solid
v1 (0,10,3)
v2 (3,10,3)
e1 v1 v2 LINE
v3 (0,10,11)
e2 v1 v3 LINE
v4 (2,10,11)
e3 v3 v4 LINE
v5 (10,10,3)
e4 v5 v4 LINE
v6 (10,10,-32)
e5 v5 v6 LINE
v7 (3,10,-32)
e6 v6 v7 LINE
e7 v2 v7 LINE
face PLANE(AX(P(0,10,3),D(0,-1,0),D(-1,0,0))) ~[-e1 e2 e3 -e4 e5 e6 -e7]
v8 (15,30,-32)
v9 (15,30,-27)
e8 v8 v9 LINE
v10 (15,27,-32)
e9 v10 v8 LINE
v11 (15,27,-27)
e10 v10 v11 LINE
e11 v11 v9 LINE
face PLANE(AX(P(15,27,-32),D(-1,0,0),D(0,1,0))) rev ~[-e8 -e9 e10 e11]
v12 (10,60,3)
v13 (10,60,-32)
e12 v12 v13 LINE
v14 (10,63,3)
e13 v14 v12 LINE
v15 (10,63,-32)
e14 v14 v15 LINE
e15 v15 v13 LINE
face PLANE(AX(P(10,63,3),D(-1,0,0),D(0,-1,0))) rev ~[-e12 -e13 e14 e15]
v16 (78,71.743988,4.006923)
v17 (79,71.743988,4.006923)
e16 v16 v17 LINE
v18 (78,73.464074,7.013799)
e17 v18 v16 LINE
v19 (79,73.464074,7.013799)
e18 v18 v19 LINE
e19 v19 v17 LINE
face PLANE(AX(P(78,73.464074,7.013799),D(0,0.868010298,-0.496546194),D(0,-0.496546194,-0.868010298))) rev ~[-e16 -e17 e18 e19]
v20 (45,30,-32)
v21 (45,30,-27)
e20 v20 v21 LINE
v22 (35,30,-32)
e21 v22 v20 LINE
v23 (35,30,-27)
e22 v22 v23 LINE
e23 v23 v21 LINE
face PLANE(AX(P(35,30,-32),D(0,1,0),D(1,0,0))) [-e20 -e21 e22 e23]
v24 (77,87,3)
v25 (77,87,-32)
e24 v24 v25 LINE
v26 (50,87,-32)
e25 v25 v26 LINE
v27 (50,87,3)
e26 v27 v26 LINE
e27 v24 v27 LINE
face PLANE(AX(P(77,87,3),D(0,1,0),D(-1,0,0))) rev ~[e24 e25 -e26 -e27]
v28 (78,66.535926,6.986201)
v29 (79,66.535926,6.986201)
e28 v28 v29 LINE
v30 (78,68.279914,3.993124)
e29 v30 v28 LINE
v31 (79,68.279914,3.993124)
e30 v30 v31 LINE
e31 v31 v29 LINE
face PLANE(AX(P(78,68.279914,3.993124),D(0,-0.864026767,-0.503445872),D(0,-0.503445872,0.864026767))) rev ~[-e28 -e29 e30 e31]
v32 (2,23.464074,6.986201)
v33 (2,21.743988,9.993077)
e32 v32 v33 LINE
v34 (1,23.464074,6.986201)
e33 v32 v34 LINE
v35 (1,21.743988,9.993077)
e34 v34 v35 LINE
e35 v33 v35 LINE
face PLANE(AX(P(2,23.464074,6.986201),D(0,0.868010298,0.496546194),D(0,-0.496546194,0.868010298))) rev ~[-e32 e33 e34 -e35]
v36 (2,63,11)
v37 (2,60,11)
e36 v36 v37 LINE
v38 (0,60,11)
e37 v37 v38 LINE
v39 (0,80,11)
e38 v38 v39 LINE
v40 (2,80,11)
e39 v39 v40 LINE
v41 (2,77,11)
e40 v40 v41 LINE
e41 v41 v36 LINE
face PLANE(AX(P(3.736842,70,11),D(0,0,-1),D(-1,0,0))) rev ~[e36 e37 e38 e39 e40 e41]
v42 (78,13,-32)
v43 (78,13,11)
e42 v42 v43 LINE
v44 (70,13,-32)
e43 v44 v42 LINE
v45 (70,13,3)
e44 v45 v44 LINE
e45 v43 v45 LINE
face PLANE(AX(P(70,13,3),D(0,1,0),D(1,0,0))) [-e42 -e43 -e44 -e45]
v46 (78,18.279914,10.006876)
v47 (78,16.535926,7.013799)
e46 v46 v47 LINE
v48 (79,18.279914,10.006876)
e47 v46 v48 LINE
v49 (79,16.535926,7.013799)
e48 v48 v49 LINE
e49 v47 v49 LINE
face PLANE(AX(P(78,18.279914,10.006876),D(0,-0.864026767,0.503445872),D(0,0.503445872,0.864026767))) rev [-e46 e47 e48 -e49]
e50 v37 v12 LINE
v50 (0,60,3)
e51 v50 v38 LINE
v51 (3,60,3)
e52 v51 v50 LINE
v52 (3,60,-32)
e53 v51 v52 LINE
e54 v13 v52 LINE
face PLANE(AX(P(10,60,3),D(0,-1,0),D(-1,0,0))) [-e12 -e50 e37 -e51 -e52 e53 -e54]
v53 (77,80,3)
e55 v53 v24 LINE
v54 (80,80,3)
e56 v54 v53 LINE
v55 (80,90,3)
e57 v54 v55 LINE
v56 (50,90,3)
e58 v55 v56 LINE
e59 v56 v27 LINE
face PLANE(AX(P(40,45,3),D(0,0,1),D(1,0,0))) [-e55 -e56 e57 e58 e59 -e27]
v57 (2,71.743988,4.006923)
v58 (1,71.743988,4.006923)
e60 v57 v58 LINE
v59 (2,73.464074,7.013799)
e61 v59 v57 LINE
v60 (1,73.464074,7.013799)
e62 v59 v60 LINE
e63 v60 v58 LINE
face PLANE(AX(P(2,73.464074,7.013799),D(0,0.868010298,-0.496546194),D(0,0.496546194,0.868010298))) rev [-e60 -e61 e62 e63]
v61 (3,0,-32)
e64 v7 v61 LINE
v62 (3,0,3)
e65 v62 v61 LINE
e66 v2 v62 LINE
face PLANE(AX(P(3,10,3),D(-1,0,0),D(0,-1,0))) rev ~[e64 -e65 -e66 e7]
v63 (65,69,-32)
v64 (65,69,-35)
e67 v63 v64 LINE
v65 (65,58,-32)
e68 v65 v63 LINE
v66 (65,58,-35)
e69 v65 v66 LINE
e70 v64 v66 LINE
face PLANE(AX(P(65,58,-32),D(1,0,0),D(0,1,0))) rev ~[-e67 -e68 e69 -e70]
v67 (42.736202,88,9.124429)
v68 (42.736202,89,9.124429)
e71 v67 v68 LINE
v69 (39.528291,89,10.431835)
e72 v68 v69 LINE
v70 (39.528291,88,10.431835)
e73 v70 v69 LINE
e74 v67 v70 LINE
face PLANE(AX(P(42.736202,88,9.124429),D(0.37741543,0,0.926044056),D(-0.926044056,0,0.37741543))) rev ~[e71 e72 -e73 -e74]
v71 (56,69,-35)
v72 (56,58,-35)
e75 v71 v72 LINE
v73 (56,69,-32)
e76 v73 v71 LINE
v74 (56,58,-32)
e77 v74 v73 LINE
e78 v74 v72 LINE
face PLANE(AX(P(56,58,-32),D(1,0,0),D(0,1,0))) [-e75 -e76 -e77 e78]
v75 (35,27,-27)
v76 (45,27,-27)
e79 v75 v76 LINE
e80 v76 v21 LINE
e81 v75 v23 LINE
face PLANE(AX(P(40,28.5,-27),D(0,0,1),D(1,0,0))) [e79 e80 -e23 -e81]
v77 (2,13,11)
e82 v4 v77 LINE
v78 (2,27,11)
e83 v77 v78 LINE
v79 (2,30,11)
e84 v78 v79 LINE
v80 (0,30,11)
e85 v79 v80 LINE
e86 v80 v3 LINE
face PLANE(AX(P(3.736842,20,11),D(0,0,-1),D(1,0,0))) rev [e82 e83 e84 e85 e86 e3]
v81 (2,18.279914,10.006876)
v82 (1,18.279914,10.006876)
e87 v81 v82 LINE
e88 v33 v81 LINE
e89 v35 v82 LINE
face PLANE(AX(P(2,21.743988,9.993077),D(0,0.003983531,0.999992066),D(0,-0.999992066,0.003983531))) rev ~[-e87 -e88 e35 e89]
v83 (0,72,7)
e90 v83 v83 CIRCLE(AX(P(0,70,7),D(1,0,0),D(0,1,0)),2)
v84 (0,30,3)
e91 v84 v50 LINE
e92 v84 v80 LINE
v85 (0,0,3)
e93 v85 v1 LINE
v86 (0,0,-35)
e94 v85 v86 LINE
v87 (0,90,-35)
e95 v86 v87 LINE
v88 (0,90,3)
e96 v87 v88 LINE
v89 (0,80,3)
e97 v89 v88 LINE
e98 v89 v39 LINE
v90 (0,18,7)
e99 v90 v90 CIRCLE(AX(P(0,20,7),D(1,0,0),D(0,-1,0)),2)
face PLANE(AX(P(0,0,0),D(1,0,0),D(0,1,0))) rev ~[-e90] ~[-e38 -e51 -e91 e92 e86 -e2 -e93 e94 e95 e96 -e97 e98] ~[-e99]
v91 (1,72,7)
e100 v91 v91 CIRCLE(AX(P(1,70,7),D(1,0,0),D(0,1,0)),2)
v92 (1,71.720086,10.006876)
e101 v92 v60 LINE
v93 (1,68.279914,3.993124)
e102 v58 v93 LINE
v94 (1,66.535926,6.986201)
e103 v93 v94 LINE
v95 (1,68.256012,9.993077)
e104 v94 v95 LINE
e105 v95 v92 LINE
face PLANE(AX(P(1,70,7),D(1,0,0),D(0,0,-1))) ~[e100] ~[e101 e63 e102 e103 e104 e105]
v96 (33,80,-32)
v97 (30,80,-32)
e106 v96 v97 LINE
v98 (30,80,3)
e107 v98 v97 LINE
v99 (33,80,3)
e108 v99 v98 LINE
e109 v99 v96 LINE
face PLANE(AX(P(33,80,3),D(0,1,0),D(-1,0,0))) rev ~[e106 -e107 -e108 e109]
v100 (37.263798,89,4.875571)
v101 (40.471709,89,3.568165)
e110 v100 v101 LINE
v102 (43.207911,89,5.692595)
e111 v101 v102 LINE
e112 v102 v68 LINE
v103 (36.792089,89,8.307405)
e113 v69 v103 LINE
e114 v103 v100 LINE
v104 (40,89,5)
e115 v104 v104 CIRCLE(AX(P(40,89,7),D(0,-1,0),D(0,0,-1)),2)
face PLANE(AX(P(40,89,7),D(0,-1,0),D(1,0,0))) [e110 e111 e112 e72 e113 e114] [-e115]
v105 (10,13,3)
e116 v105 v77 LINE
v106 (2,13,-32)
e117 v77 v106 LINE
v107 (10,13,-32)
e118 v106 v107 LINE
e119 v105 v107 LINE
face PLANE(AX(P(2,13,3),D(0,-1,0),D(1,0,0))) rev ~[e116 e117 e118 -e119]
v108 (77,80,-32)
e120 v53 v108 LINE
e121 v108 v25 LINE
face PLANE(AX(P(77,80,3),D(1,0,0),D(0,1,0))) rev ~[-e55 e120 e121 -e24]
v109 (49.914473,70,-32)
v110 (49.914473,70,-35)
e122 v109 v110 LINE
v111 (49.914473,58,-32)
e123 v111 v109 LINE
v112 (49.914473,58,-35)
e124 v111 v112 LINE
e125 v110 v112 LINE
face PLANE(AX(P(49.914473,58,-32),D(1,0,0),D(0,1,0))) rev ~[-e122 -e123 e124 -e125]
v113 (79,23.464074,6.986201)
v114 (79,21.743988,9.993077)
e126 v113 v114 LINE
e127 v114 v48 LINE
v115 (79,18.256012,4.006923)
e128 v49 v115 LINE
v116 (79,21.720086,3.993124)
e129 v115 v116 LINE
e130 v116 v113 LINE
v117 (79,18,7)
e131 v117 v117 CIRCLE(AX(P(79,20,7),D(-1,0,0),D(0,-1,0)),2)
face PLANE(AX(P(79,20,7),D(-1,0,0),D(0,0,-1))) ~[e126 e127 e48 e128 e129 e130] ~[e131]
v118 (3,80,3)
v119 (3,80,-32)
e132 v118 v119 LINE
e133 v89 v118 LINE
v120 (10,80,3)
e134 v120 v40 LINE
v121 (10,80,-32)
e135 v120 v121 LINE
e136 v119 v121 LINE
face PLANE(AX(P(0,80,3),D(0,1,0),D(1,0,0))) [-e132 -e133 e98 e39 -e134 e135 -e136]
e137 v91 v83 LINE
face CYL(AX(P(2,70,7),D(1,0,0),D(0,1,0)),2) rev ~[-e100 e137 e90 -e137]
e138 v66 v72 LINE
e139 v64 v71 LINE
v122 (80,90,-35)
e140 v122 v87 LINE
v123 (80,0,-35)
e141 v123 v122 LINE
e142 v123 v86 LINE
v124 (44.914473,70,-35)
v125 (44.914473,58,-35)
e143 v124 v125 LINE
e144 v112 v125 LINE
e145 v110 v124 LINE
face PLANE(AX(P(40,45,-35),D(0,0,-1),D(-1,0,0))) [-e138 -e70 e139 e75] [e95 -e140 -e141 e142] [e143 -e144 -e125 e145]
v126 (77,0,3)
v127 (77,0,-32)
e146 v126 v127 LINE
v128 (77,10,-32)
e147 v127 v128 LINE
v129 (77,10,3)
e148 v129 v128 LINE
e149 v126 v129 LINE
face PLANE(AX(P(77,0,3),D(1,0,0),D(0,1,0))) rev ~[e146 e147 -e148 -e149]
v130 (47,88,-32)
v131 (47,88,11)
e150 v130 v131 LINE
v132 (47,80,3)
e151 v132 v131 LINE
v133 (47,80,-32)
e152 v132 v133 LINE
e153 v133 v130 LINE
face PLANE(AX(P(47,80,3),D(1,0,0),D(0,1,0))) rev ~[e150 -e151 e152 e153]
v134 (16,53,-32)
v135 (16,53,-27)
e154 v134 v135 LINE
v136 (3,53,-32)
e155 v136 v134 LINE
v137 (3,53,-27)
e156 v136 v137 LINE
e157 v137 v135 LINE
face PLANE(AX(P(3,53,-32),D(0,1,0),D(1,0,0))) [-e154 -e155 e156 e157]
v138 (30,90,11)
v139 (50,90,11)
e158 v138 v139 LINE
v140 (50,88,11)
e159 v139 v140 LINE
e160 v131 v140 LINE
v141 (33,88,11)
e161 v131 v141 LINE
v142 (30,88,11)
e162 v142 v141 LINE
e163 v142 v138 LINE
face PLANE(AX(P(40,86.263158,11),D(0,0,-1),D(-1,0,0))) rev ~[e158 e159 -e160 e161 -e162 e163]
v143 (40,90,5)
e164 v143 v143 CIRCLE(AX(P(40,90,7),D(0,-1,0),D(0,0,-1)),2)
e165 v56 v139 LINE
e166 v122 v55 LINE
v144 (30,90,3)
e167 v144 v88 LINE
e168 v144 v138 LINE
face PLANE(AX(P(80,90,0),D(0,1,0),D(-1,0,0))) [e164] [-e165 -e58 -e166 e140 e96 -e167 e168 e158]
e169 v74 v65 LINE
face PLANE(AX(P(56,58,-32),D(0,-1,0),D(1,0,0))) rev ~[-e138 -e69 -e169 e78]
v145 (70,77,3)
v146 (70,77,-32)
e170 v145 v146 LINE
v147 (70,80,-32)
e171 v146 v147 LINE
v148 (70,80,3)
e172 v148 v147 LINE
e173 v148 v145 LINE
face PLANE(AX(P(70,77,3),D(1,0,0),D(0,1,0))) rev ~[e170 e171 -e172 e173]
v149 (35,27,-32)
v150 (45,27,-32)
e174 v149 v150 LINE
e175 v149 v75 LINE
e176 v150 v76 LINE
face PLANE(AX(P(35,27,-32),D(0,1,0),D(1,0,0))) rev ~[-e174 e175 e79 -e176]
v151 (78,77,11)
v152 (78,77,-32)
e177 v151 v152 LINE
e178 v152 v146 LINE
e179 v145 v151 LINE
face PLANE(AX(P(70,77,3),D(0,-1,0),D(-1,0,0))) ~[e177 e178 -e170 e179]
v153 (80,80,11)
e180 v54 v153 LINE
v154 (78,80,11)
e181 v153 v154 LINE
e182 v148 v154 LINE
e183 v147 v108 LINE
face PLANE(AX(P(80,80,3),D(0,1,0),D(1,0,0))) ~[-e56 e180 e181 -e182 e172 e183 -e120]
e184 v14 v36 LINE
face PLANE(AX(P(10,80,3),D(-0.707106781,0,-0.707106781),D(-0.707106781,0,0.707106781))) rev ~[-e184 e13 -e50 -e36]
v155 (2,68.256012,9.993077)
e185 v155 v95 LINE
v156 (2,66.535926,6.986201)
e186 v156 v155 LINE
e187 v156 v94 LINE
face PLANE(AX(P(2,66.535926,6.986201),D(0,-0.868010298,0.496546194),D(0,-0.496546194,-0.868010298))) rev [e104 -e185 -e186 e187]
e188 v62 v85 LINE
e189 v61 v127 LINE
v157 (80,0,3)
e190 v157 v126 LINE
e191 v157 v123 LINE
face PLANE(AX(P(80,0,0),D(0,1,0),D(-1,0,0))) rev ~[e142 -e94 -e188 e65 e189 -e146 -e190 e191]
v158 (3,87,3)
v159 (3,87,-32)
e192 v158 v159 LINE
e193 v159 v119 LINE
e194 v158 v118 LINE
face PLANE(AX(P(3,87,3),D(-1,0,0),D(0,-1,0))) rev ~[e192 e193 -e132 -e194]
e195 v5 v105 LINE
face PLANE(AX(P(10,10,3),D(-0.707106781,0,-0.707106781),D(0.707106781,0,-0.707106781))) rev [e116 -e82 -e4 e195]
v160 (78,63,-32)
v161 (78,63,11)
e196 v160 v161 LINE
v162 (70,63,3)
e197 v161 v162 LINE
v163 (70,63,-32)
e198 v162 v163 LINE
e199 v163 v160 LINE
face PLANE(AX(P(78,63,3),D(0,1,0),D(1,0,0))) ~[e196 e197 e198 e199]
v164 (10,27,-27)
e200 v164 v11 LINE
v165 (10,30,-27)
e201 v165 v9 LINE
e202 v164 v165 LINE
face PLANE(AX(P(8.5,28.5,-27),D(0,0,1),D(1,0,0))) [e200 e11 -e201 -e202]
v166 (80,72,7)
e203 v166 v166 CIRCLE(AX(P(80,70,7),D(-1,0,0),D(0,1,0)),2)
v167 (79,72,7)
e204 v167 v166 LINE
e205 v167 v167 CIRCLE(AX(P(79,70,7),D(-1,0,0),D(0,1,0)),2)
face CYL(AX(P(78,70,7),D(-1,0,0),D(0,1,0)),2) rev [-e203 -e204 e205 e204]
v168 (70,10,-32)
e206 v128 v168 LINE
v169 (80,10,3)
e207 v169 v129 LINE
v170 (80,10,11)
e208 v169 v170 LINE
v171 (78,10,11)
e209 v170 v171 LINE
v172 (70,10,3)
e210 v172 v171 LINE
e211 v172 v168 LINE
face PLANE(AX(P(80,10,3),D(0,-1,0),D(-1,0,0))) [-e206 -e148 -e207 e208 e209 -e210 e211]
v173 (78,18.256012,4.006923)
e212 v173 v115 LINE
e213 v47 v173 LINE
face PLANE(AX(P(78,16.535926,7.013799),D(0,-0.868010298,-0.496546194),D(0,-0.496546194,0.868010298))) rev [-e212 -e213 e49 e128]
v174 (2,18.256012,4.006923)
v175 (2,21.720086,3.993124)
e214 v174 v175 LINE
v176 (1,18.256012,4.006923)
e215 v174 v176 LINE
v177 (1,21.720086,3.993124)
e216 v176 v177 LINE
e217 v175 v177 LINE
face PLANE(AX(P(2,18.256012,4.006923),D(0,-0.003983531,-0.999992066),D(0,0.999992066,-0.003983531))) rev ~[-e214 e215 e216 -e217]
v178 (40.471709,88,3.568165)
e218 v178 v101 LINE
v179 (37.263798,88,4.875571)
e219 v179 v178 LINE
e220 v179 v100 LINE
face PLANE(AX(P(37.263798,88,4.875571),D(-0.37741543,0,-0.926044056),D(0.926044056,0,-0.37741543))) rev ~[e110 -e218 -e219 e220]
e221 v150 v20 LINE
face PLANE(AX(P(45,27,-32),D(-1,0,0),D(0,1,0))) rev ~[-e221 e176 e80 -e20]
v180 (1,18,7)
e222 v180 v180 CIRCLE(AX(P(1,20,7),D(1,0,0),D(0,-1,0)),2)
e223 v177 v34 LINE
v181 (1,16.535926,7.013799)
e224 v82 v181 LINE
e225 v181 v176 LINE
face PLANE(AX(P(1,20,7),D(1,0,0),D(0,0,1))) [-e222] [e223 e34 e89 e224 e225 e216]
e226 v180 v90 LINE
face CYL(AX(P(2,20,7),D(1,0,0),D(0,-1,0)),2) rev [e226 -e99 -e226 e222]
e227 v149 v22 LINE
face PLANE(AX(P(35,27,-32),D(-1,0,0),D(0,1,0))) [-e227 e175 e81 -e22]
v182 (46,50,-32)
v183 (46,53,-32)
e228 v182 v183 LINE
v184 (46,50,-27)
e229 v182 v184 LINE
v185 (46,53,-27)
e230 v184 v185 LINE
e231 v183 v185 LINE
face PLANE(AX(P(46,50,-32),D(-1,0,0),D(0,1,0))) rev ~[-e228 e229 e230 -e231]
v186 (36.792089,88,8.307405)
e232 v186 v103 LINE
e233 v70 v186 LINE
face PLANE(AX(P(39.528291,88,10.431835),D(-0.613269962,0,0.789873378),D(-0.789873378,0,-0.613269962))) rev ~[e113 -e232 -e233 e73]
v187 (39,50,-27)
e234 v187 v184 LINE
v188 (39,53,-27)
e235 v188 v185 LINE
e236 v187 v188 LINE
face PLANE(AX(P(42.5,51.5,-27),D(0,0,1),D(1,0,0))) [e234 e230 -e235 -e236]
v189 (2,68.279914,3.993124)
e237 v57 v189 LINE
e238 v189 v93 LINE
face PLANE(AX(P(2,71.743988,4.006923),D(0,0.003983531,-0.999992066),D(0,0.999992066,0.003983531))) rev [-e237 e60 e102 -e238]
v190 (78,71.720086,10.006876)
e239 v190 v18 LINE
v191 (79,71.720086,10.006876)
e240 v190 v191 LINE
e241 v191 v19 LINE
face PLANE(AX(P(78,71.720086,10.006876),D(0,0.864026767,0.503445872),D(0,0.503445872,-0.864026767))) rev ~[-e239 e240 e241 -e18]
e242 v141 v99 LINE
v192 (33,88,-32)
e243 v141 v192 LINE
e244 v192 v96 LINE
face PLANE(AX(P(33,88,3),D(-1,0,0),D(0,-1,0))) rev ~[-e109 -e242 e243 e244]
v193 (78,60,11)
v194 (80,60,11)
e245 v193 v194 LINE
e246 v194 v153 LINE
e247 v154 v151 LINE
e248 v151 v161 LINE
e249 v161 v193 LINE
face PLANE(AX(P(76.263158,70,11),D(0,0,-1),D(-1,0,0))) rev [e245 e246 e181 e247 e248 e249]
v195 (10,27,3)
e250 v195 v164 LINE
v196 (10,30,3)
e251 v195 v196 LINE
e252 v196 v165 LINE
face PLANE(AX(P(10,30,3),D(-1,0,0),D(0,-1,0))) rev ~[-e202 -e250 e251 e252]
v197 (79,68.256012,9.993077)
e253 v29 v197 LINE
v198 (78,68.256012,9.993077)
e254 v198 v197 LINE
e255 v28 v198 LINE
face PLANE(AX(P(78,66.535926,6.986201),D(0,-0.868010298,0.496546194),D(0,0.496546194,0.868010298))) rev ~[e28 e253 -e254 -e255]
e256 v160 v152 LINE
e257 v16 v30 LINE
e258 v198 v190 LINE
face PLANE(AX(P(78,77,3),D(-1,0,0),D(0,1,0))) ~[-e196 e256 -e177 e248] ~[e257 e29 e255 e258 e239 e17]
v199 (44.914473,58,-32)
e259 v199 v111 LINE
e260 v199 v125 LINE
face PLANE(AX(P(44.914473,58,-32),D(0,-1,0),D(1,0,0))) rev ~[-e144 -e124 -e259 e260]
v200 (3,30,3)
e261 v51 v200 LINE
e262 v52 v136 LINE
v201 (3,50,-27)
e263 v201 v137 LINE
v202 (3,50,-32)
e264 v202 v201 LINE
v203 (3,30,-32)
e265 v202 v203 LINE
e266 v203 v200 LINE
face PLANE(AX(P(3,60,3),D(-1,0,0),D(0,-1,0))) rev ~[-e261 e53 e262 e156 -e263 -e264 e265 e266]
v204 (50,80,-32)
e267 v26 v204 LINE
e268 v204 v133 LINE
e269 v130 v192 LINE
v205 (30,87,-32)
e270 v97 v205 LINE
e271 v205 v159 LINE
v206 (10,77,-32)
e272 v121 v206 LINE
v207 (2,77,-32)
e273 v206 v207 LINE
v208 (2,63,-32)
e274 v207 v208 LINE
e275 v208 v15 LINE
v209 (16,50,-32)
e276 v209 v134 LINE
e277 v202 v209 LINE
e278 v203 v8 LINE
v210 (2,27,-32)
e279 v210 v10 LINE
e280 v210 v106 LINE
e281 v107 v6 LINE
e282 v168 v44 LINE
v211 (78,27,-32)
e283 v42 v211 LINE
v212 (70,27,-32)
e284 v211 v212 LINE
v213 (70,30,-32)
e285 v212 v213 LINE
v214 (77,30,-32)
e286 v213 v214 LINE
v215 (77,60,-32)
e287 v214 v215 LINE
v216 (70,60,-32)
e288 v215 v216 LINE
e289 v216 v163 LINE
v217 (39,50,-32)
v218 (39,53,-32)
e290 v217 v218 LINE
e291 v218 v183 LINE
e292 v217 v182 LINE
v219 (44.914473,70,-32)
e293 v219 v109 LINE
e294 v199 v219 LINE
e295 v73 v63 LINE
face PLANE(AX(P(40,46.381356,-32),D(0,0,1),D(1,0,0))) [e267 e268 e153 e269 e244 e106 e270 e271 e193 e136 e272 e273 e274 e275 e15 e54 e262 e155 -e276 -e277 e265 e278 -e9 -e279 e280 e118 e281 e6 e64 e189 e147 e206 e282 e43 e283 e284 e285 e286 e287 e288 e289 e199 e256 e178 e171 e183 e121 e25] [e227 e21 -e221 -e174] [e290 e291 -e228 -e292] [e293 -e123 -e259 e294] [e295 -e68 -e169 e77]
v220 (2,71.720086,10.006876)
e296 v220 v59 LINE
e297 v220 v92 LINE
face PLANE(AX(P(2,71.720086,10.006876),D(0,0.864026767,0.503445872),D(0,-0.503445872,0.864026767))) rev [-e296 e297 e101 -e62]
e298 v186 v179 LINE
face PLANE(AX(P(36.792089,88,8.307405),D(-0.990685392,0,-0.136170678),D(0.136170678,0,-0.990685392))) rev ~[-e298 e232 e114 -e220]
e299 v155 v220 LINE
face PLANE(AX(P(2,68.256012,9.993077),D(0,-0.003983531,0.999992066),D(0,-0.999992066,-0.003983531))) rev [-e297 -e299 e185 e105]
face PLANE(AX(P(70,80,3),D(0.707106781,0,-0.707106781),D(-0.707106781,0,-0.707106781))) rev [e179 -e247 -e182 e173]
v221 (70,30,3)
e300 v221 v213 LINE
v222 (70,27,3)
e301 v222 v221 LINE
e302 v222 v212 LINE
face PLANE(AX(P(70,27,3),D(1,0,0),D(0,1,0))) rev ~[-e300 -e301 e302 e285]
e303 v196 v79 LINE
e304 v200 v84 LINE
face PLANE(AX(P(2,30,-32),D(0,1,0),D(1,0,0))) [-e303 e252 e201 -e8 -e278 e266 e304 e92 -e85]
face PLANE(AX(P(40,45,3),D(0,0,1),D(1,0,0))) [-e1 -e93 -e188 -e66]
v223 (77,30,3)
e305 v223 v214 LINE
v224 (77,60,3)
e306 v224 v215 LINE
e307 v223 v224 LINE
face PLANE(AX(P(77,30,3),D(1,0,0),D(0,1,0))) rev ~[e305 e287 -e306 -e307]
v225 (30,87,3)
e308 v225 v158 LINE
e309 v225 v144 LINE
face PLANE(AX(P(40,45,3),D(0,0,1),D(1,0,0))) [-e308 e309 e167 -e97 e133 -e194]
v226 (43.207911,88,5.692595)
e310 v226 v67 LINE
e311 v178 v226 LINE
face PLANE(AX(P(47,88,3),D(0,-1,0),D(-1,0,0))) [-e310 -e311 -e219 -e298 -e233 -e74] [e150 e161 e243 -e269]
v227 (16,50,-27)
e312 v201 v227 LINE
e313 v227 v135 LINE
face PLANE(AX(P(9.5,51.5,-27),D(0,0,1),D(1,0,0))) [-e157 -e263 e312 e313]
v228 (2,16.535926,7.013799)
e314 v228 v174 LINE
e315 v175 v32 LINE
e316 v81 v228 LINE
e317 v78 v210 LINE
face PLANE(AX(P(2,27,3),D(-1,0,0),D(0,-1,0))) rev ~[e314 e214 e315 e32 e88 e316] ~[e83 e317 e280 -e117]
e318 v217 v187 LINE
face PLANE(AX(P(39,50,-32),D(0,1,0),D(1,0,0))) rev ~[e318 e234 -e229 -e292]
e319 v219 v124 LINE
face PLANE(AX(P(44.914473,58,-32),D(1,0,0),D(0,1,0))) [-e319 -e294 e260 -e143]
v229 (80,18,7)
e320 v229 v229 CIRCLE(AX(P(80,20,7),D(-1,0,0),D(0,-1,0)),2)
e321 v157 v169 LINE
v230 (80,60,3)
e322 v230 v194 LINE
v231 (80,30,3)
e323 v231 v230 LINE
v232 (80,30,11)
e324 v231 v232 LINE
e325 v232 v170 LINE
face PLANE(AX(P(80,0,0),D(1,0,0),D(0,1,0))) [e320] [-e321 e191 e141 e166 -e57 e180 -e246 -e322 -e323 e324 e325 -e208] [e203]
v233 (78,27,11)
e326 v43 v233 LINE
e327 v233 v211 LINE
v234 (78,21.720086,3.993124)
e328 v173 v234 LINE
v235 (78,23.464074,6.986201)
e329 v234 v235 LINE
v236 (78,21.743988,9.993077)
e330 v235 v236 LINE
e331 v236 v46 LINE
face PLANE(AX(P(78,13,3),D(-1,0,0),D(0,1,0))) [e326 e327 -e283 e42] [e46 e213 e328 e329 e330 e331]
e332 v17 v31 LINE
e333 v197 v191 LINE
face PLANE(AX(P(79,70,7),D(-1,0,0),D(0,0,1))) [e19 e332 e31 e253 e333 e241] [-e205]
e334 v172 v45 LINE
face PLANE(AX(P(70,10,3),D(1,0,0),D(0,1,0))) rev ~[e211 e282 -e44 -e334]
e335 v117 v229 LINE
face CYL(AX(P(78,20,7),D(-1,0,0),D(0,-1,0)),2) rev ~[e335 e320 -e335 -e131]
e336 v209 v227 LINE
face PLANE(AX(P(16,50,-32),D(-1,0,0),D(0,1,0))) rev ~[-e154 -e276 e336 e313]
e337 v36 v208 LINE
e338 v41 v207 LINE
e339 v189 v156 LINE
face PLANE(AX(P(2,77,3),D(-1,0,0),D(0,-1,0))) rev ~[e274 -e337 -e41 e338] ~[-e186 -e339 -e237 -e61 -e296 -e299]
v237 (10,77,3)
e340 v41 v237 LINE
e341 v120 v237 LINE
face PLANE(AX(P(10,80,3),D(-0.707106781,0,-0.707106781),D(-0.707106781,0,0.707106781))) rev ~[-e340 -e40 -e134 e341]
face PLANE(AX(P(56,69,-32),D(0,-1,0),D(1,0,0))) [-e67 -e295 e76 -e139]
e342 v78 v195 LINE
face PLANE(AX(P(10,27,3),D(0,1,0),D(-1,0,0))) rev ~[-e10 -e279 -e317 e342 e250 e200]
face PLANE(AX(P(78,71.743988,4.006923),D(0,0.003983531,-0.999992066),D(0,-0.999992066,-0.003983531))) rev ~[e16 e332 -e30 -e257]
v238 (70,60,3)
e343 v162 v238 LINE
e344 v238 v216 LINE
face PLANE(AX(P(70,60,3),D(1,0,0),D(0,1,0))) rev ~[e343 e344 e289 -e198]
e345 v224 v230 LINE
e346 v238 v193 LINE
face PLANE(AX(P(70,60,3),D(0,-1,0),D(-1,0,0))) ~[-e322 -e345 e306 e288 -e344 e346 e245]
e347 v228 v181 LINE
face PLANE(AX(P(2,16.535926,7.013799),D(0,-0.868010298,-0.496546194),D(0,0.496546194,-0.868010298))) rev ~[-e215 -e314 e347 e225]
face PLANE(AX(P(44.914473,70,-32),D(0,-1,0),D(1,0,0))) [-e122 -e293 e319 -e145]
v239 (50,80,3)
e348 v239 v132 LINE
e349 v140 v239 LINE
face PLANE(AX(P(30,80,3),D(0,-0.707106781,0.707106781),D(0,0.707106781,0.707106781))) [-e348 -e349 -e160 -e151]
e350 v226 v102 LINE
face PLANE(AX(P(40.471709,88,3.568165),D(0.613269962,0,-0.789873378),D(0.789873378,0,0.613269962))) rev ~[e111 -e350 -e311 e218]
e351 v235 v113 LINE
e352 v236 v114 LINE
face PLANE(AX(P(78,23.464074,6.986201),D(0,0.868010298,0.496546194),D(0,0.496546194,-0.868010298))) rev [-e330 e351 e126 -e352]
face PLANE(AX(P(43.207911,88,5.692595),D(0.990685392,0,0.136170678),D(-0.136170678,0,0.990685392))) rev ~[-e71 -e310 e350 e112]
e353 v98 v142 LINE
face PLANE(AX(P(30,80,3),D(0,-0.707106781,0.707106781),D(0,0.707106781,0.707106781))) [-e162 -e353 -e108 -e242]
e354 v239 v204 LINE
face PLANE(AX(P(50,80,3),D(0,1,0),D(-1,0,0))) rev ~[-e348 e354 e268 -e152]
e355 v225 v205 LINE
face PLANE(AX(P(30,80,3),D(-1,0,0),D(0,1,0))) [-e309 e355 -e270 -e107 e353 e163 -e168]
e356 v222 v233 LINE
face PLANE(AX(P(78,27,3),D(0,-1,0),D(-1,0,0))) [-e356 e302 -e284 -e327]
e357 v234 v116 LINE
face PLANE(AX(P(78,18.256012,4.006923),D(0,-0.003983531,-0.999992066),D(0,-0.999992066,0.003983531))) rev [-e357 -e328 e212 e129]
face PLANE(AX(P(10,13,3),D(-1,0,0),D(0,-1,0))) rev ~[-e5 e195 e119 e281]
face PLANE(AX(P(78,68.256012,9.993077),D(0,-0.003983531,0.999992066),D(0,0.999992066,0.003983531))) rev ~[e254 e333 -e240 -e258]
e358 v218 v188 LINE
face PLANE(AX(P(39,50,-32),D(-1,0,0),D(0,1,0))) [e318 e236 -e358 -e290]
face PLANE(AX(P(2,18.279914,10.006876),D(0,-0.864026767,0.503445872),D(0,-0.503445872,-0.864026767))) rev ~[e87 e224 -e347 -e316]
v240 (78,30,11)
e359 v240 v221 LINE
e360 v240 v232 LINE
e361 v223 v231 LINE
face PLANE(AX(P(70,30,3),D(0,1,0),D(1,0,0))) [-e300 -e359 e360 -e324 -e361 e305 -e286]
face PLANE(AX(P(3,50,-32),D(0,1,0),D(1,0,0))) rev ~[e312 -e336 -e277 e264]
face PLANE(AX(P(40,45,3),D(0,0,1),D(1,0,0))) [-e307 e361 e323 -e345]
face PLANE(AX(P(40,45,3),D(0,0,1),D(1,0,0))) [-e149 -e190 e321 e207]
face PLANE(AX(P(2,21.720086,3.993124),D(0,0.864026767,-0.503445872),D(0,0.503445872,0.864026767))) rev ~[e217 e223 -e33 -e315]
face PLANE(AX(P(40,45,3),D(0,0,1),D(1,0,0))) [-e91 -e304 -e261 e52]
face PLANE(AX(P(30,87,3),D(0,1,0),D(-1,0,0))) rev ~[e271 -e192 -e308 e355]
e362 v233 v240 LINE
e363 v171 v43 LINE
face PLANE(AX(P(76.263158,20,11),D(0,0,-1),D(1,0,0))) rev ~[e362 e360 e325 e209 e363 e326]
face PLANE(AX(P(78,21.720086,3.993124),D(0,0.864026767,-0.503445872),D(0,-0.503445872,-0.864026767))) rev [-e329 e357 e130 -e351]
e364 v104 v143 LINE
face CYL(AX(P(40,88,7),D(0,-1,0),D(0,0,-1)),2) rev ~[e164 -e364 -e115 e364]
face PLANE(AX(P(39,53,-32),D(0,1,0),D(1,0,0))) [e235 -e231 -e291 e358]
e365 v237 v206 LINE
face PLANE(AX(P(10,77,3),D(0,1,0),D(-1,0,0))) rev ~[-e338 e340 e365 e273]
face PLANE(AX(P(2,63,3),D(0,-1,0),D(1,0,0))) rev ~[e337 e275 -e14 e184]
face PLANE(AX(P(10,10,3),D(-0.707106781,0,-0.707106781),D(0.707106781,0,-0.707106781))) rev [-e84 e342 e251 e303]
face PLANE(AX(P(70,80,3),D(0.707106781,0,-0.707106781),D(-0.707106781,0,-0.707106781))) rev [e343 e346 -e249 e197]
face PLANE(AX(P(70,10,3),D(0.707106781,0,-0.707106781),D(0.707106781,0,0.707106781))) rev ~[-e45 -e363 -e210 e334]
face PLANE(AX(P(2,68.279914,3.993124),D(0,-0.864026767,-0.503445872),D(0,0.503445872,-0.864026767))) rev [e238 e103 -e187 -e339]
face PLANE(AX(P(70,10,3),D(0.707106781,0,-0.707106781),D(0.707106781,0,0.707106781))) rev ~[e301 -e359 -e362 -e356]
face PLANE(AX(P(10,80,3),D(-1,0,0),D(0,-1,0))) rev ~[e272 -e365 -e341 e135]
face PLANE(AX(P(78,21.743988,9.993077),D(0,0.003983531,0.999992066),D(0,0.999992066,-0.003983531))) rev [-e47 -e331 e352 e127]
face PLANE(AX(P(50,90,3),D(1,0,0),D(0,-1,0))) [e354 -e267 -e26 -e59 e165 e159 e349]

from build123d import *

# Parameters (mm, degrees)
SKETCH1_W               = 80
SKETCH1_H               = 90
BOSS_EXTRUDE1_DEPTH     = 3
BOSS_EXTRUDE2_DEPTH     = 8
CUT_EXTRUDE1_DEPTH      = 114.670576668
SKETCH6_R               = 2
CUT_EXTRUDE3_DEPTH      = 25
MIRROR5_COPY_1_DEPTH    = 8
MIRROR5_COPY_2_DEPTH    = 114.670576668
MIRROR5_COPY_3_SKETCH_R = 2
MIRROR5_COPY_3_DEPTH    = 25
BOSS_EXTRUDE3_DEPTH     = 8
CUT_EXTRUDE2_DEPTH      = 25
SKETCH7_R               = 2
CUT_EXTRUDE4_DEPTH      = 25
SKETCH9_W               = 80
SKETCH9_H               = 90
BOSS_EXTRUDE7_DEPTH     = 35
CUT_EXTRUDE5_DEPTH      = 35
SKETCH11_W              = 13
SKETCH11_H              = 3
SKETCH11_W_2            = 10
SKETCH11_W_3            = 7
BOSS_EXTRUDE8_DEPTH     = 5
SKETCH12_W              = 9
SKETCH12_H              = 11
CUT_EXTRUDE6_DEPTH      = 46
SKETCH13_W              = 5
SKETCH13_H              = 12
CUT_EXTRUDE7_DEPTH      = 128.863208156
CUT_EXTRUDE8_DEPTH      = 1
CUT_EXTRUDE9_DEPTH      = 1
MIRROR7_COPY_1_DEPTH    = 1


with BuildPart() as part:
    # Sketch1 → Boss-Extrude1 (new body)
    with BuildSketch(Plane.XY):
        with Locations((40, 45)):
            Rectangle(SKETCH1_W, SKETCH1_H)
    extrude(amount=BOSS_EXTRUDE1_DEPTH)

    # Sketch2 → Boss-Extrude2 (add)
    with BuildSketch(Plane.XY.offset(3)):
        Polygon((0, 80), (10, 80), (10, 77), (2, 77), (2, 63), (10, 63), (10, 60), (0, 60), align=None)
    boss_extrude2 = extrude(amount=BOSS_EXTRUDE2_DEPTH)

    # Sketch3 → Cut-Extrude1 (cut, through all)
    with BuildSketch(Plane(origin=(0, 80, 0), x_dir=(1, 0, 0), z_dir=(0, 1, 0))):
        Polygon((10, -3), (2, -11), (10, -11), align=None)
    cut_extrude1 = extrude(amount=-CUT_EXTRUDE1_DEPTH, mode=Mode.SUBTRACT)

    # Sketch6 → Cut-Extrude3 (cut)
    with BuildSketch(Plane(origin=(2, 0, 0), x_dir=(0, 0, -1), z_dir=(1, 0, 0))):
        with Locations(Location((-7, 70, 0), (0, 0, 90))):
            Circle(SKETCH6_R)
    cut_extrude3 = extrude(amount=-CUT_EXTRUDE3_DEPTH, mode=Mode.SUBTRACT)

    # Mirror4: Boss-Extrude2, Cut-Extrude1, Cut-Extrude3 across plane
    add(boss_extrude2.mirror(Plane(origin=(40, 0, 0), x_dir=(0, 0, 1), z_dir=(1, 0, 0))))
    add(cut_extrude1.mirror(Plane(origin=(40, 0, 0), x_dir=(0, 0, 1), z_dir=(1, 0, 0))), mode=Mode.SUBTRACT)
    add(cut_extrude3.mirror(Plane(origin=(40, 0, 0), x_dir=(0, 0, 1), z_dir=(1, 0, 0))), mode=Mode.SUBTRACT)

    # Mirror5: Boss-Extrude2, Cut-Extrude1, Cut-Extrude3 across plane
    add(boss_extrude2.mirror(Plane(origin=(0, 45, 0), x_dir=(0, 0, 1), z_dir=(0, -1, 0))))
    add(cut_extrude1.mirror(Plane(origin=(0, 45, 0), x_dir=(0, 0, 1), z_dir=(0, -1, 0))), mode=Mode.SUBTRACT)
    add(cut_extrude3.mirror(Plane(origin=(0, 45, 0), x_dir=(0, 0, 1), z_dir=(0, -1, 0))), mode=Mode.SUBTRACT)

    # Mirror5 copy 1 sketch → Mirror5 copy 1 (add)
    with BuildSketch(Plane(origin=(80, 90, 3), x_dir=(-1, 0, 0), z_dir=(0, 0, 1))):
        Polygon((0, 80), (10, 80), (10, 77), (2, 77), (2, 63), (10, 63), (10, 60), (0, 60), align=None)
    extrude(amount=MIRROR5_COPY_1_DEPTH)

    # Mirror5 copy 2 sketch → Mirror5 copy 2 (cut, through all)
    with BuildSketch(Plane(origin=(80, 10, 0), x_dir=(-1, 0, 0), z_dir=(0, -1, 0))):
        Polygon((10, -3), (2, -11), (10, -11), align=None)
    extrude(amount=-MIRROR5_COPY_2_DEPTH, mode=Mode.SUBTRACT)

    # Mirror5 copy 3 sketch → Mirror5 copy 3 (cut)
    with BuildSketch(Plane(origin=(78, 90, 0), x_dir=(0, 0, -1), z_dir=(-1, 0, 0))):
        with Locations(Location((-7, 70, 0), (0, 0, 90))):
            Circle(MIRROR5_COPY_3_SKETCH_R)
    extrude(amount=-MIRROR5_COPY_3_DEPTH, mode=Mode.SUBTRACT)

    # Sketch4 → Boss-Extrude3 (add)
    with BuildSketch(Plane.XY.offset(3)):
        Polygon((30, 90), (50, 90), (50, 80), (47, 80), (47, 88), (33, 88), (33, 80), (30, 80), align=None)
    extrude(amount=BOSS_EXTRUDE3_DEPTH)

    # Sketch5 → Cut-Extrude2 (cut)
    with BuildSketch(Plane.ZY.offset(-30)):
        Polygon((3, 80), (11, 88), (11, 80), align=None)
    extrude(amount=-CUT_EXTRUDE2_DEPTH, mode=Mode.SUBTRACT)

    # Sketch7 → Cut-Extrude4 (cut)
    with BuildSketch(Plane.XZ.offset(-88)):
        with Locations(Location((40, 7, 0), (0, 0, 270))):
            Circle(SKETCH7_R)
    extrude(amount=-CUT_EXTRUDE4_DEPTH, mode=Mode.SUBTRACT)

    # Sketch9 → Boss-Extrude7 (add)
    with BuildSketch(Plane(origin=(0, 0, 0), x_dir=(-1, 0, 0), z_dir=(0, 0, -1))):
        with Locations((-40, 45)):
            Rectangle(SKETCH9_W, SKETCH9_H)
    extrude(amount=BOSS_EXTRUDE7_DEPTH)

    # Sketch10 → Cut-Extrude5 (cut)
    with BuildSketch(Plane.XY.offset(3)):
        Polygon((30, 87), (3, 87), (3, 80), (10, 80), (10, 77), (2, 77), (2, 63), (10, 63), (10, 60), (3, 60), (3, 30), (10, 30), (10, 27), (2, 27), (2, 13), (10, 13), (10, 10), (3, 10), (3, 0), (77, 0), (77, 10), (70, 10), (70, 13), (78, 13), (78, 27), (70, 27), (70, 30), (77, 30), (77, 60), (70, 60), (70, 63), (78, 63), (78, 77), (70, 77), (70, 80), (77, 80), (77, 87), (50, 87), (50, 80), (47, 80), (47, 88), (33, 88), (33, 80), (30, 80), align=None)
    extrude(amount=-CUT_EXTRUDE5_DEPTH, mode=Mode.SUBTRACT)

    # Sketch11 → Boss-Extrude8 (add)
    with BuildSketch(Plane.XY.offset(-32)):
        with Locations((8.5, 28.5)):
            Rectangle(SKETCH11_W, SKETCH11_H)
        with Locations((9.5, 51.5)):
            Rectangle(SKETCH11_W, SKETCH11_H)
        with Locations((40, 28.5)):
            Rectangle(SKETCH11_W_2, SKETCH11_H)
        with Locations((42.5, 51.5)):
            Rectangle(SKETCH11_W_3, SKETCH11_H)
    extrude(amount=BOSS_EXTRUDE8_DEPTH)

    # Sketch12 → Cut-Extrude6 (cut)
    with BuildSketch(Plane.XY.offset(-32)):
        with Locations((60.5, 63.5)):
            Rectangle(SKETCH12_W, SKETCH12_H)
    extrude(amount=-CUT_EXTRUDE6_DEPTH, mode=Mode.SUBTRACT)

    # Sketch13 → Cut-Extrude7 (cut, through all)
    with BuildSketch(Plane.XY.offset(-32)):
        with Locations((47.414473157, 64)):
            Rectangle(SKETCH13_W, SKETCH13_H)
    extrude(amount=-CUT_EXTRUDE7_DEPTH, mode=Mode.SUBTRACT)

    # Sketch14 → Cut-Extrude8 (cut)
    with BuildSketch(Plane.XZ.offset(-88)):
        Polygon((43.207910709, 5.692594599), (42.736201645, 9.124429466), (39.528290936, 10.431834868), (36.792089291, 8.307405401), (37.263798355, 4.875570534), (40.471709064, 3.568165132), align=None)
    extrude(amount=-CUT_EXTRUDE8_DEPTH, mode=Mode.SUBTRACT)

    # Sketch15 → Cut-Extrude9 (cut)
    with BuildSketch(Plane.ZY.offset(-78)):
        Polygon((9.993076519, 68.256012342), (10.006875875, 71.720086472), (7.013799356, 73.46407413), (4.006923481, 71.743987658), (3.993124125, 68.279913528), (6.986200644, 66.53592587), align=None)
    cut_extrude9 = extrude(amount=-CUT_EXTRUDE9_DEPTH, mode=Mode.SUBTRACT)

    # Mirror6: Cut-Extrude9 across plane
    add(cut_extrude9.mirror(Plane(origin=(40, 0, 0), x_dir=(0, 0, 1), z_dir=(1, 0, 0))), mode=Mode.SUBTRACT)

    # Mirror7: Cut-Extrude9 across plane
    add(cut_extrude9.mirror(Plane(origin=(0, 45, 0), x_dir=(0, 0, 1), z_dir=(0, -1, 0))), mode=Mode.SUBTRACT)

    # Mirror7 copy 1 sketch → Mirror7 copy 1 (cut)
    with BuildSketch(Plane(origin=(2, 90, 0), x_dir=(0, 0, 1), z_dir=(1, 0, 0))):
        Polygon((9.993076519, 68.256012342), (10.006875875, 71.720086472), (7.013799356, 73.46407413), (4.006923481, 71.743987658), (3.993124125, 68.279913528), (6.986200644, 66.53592587), align=None)
    extrude(amount=-MIRROR7_COPY_1_DEPTH, mode=Mode.SUBTRACT)


solid = part.part
